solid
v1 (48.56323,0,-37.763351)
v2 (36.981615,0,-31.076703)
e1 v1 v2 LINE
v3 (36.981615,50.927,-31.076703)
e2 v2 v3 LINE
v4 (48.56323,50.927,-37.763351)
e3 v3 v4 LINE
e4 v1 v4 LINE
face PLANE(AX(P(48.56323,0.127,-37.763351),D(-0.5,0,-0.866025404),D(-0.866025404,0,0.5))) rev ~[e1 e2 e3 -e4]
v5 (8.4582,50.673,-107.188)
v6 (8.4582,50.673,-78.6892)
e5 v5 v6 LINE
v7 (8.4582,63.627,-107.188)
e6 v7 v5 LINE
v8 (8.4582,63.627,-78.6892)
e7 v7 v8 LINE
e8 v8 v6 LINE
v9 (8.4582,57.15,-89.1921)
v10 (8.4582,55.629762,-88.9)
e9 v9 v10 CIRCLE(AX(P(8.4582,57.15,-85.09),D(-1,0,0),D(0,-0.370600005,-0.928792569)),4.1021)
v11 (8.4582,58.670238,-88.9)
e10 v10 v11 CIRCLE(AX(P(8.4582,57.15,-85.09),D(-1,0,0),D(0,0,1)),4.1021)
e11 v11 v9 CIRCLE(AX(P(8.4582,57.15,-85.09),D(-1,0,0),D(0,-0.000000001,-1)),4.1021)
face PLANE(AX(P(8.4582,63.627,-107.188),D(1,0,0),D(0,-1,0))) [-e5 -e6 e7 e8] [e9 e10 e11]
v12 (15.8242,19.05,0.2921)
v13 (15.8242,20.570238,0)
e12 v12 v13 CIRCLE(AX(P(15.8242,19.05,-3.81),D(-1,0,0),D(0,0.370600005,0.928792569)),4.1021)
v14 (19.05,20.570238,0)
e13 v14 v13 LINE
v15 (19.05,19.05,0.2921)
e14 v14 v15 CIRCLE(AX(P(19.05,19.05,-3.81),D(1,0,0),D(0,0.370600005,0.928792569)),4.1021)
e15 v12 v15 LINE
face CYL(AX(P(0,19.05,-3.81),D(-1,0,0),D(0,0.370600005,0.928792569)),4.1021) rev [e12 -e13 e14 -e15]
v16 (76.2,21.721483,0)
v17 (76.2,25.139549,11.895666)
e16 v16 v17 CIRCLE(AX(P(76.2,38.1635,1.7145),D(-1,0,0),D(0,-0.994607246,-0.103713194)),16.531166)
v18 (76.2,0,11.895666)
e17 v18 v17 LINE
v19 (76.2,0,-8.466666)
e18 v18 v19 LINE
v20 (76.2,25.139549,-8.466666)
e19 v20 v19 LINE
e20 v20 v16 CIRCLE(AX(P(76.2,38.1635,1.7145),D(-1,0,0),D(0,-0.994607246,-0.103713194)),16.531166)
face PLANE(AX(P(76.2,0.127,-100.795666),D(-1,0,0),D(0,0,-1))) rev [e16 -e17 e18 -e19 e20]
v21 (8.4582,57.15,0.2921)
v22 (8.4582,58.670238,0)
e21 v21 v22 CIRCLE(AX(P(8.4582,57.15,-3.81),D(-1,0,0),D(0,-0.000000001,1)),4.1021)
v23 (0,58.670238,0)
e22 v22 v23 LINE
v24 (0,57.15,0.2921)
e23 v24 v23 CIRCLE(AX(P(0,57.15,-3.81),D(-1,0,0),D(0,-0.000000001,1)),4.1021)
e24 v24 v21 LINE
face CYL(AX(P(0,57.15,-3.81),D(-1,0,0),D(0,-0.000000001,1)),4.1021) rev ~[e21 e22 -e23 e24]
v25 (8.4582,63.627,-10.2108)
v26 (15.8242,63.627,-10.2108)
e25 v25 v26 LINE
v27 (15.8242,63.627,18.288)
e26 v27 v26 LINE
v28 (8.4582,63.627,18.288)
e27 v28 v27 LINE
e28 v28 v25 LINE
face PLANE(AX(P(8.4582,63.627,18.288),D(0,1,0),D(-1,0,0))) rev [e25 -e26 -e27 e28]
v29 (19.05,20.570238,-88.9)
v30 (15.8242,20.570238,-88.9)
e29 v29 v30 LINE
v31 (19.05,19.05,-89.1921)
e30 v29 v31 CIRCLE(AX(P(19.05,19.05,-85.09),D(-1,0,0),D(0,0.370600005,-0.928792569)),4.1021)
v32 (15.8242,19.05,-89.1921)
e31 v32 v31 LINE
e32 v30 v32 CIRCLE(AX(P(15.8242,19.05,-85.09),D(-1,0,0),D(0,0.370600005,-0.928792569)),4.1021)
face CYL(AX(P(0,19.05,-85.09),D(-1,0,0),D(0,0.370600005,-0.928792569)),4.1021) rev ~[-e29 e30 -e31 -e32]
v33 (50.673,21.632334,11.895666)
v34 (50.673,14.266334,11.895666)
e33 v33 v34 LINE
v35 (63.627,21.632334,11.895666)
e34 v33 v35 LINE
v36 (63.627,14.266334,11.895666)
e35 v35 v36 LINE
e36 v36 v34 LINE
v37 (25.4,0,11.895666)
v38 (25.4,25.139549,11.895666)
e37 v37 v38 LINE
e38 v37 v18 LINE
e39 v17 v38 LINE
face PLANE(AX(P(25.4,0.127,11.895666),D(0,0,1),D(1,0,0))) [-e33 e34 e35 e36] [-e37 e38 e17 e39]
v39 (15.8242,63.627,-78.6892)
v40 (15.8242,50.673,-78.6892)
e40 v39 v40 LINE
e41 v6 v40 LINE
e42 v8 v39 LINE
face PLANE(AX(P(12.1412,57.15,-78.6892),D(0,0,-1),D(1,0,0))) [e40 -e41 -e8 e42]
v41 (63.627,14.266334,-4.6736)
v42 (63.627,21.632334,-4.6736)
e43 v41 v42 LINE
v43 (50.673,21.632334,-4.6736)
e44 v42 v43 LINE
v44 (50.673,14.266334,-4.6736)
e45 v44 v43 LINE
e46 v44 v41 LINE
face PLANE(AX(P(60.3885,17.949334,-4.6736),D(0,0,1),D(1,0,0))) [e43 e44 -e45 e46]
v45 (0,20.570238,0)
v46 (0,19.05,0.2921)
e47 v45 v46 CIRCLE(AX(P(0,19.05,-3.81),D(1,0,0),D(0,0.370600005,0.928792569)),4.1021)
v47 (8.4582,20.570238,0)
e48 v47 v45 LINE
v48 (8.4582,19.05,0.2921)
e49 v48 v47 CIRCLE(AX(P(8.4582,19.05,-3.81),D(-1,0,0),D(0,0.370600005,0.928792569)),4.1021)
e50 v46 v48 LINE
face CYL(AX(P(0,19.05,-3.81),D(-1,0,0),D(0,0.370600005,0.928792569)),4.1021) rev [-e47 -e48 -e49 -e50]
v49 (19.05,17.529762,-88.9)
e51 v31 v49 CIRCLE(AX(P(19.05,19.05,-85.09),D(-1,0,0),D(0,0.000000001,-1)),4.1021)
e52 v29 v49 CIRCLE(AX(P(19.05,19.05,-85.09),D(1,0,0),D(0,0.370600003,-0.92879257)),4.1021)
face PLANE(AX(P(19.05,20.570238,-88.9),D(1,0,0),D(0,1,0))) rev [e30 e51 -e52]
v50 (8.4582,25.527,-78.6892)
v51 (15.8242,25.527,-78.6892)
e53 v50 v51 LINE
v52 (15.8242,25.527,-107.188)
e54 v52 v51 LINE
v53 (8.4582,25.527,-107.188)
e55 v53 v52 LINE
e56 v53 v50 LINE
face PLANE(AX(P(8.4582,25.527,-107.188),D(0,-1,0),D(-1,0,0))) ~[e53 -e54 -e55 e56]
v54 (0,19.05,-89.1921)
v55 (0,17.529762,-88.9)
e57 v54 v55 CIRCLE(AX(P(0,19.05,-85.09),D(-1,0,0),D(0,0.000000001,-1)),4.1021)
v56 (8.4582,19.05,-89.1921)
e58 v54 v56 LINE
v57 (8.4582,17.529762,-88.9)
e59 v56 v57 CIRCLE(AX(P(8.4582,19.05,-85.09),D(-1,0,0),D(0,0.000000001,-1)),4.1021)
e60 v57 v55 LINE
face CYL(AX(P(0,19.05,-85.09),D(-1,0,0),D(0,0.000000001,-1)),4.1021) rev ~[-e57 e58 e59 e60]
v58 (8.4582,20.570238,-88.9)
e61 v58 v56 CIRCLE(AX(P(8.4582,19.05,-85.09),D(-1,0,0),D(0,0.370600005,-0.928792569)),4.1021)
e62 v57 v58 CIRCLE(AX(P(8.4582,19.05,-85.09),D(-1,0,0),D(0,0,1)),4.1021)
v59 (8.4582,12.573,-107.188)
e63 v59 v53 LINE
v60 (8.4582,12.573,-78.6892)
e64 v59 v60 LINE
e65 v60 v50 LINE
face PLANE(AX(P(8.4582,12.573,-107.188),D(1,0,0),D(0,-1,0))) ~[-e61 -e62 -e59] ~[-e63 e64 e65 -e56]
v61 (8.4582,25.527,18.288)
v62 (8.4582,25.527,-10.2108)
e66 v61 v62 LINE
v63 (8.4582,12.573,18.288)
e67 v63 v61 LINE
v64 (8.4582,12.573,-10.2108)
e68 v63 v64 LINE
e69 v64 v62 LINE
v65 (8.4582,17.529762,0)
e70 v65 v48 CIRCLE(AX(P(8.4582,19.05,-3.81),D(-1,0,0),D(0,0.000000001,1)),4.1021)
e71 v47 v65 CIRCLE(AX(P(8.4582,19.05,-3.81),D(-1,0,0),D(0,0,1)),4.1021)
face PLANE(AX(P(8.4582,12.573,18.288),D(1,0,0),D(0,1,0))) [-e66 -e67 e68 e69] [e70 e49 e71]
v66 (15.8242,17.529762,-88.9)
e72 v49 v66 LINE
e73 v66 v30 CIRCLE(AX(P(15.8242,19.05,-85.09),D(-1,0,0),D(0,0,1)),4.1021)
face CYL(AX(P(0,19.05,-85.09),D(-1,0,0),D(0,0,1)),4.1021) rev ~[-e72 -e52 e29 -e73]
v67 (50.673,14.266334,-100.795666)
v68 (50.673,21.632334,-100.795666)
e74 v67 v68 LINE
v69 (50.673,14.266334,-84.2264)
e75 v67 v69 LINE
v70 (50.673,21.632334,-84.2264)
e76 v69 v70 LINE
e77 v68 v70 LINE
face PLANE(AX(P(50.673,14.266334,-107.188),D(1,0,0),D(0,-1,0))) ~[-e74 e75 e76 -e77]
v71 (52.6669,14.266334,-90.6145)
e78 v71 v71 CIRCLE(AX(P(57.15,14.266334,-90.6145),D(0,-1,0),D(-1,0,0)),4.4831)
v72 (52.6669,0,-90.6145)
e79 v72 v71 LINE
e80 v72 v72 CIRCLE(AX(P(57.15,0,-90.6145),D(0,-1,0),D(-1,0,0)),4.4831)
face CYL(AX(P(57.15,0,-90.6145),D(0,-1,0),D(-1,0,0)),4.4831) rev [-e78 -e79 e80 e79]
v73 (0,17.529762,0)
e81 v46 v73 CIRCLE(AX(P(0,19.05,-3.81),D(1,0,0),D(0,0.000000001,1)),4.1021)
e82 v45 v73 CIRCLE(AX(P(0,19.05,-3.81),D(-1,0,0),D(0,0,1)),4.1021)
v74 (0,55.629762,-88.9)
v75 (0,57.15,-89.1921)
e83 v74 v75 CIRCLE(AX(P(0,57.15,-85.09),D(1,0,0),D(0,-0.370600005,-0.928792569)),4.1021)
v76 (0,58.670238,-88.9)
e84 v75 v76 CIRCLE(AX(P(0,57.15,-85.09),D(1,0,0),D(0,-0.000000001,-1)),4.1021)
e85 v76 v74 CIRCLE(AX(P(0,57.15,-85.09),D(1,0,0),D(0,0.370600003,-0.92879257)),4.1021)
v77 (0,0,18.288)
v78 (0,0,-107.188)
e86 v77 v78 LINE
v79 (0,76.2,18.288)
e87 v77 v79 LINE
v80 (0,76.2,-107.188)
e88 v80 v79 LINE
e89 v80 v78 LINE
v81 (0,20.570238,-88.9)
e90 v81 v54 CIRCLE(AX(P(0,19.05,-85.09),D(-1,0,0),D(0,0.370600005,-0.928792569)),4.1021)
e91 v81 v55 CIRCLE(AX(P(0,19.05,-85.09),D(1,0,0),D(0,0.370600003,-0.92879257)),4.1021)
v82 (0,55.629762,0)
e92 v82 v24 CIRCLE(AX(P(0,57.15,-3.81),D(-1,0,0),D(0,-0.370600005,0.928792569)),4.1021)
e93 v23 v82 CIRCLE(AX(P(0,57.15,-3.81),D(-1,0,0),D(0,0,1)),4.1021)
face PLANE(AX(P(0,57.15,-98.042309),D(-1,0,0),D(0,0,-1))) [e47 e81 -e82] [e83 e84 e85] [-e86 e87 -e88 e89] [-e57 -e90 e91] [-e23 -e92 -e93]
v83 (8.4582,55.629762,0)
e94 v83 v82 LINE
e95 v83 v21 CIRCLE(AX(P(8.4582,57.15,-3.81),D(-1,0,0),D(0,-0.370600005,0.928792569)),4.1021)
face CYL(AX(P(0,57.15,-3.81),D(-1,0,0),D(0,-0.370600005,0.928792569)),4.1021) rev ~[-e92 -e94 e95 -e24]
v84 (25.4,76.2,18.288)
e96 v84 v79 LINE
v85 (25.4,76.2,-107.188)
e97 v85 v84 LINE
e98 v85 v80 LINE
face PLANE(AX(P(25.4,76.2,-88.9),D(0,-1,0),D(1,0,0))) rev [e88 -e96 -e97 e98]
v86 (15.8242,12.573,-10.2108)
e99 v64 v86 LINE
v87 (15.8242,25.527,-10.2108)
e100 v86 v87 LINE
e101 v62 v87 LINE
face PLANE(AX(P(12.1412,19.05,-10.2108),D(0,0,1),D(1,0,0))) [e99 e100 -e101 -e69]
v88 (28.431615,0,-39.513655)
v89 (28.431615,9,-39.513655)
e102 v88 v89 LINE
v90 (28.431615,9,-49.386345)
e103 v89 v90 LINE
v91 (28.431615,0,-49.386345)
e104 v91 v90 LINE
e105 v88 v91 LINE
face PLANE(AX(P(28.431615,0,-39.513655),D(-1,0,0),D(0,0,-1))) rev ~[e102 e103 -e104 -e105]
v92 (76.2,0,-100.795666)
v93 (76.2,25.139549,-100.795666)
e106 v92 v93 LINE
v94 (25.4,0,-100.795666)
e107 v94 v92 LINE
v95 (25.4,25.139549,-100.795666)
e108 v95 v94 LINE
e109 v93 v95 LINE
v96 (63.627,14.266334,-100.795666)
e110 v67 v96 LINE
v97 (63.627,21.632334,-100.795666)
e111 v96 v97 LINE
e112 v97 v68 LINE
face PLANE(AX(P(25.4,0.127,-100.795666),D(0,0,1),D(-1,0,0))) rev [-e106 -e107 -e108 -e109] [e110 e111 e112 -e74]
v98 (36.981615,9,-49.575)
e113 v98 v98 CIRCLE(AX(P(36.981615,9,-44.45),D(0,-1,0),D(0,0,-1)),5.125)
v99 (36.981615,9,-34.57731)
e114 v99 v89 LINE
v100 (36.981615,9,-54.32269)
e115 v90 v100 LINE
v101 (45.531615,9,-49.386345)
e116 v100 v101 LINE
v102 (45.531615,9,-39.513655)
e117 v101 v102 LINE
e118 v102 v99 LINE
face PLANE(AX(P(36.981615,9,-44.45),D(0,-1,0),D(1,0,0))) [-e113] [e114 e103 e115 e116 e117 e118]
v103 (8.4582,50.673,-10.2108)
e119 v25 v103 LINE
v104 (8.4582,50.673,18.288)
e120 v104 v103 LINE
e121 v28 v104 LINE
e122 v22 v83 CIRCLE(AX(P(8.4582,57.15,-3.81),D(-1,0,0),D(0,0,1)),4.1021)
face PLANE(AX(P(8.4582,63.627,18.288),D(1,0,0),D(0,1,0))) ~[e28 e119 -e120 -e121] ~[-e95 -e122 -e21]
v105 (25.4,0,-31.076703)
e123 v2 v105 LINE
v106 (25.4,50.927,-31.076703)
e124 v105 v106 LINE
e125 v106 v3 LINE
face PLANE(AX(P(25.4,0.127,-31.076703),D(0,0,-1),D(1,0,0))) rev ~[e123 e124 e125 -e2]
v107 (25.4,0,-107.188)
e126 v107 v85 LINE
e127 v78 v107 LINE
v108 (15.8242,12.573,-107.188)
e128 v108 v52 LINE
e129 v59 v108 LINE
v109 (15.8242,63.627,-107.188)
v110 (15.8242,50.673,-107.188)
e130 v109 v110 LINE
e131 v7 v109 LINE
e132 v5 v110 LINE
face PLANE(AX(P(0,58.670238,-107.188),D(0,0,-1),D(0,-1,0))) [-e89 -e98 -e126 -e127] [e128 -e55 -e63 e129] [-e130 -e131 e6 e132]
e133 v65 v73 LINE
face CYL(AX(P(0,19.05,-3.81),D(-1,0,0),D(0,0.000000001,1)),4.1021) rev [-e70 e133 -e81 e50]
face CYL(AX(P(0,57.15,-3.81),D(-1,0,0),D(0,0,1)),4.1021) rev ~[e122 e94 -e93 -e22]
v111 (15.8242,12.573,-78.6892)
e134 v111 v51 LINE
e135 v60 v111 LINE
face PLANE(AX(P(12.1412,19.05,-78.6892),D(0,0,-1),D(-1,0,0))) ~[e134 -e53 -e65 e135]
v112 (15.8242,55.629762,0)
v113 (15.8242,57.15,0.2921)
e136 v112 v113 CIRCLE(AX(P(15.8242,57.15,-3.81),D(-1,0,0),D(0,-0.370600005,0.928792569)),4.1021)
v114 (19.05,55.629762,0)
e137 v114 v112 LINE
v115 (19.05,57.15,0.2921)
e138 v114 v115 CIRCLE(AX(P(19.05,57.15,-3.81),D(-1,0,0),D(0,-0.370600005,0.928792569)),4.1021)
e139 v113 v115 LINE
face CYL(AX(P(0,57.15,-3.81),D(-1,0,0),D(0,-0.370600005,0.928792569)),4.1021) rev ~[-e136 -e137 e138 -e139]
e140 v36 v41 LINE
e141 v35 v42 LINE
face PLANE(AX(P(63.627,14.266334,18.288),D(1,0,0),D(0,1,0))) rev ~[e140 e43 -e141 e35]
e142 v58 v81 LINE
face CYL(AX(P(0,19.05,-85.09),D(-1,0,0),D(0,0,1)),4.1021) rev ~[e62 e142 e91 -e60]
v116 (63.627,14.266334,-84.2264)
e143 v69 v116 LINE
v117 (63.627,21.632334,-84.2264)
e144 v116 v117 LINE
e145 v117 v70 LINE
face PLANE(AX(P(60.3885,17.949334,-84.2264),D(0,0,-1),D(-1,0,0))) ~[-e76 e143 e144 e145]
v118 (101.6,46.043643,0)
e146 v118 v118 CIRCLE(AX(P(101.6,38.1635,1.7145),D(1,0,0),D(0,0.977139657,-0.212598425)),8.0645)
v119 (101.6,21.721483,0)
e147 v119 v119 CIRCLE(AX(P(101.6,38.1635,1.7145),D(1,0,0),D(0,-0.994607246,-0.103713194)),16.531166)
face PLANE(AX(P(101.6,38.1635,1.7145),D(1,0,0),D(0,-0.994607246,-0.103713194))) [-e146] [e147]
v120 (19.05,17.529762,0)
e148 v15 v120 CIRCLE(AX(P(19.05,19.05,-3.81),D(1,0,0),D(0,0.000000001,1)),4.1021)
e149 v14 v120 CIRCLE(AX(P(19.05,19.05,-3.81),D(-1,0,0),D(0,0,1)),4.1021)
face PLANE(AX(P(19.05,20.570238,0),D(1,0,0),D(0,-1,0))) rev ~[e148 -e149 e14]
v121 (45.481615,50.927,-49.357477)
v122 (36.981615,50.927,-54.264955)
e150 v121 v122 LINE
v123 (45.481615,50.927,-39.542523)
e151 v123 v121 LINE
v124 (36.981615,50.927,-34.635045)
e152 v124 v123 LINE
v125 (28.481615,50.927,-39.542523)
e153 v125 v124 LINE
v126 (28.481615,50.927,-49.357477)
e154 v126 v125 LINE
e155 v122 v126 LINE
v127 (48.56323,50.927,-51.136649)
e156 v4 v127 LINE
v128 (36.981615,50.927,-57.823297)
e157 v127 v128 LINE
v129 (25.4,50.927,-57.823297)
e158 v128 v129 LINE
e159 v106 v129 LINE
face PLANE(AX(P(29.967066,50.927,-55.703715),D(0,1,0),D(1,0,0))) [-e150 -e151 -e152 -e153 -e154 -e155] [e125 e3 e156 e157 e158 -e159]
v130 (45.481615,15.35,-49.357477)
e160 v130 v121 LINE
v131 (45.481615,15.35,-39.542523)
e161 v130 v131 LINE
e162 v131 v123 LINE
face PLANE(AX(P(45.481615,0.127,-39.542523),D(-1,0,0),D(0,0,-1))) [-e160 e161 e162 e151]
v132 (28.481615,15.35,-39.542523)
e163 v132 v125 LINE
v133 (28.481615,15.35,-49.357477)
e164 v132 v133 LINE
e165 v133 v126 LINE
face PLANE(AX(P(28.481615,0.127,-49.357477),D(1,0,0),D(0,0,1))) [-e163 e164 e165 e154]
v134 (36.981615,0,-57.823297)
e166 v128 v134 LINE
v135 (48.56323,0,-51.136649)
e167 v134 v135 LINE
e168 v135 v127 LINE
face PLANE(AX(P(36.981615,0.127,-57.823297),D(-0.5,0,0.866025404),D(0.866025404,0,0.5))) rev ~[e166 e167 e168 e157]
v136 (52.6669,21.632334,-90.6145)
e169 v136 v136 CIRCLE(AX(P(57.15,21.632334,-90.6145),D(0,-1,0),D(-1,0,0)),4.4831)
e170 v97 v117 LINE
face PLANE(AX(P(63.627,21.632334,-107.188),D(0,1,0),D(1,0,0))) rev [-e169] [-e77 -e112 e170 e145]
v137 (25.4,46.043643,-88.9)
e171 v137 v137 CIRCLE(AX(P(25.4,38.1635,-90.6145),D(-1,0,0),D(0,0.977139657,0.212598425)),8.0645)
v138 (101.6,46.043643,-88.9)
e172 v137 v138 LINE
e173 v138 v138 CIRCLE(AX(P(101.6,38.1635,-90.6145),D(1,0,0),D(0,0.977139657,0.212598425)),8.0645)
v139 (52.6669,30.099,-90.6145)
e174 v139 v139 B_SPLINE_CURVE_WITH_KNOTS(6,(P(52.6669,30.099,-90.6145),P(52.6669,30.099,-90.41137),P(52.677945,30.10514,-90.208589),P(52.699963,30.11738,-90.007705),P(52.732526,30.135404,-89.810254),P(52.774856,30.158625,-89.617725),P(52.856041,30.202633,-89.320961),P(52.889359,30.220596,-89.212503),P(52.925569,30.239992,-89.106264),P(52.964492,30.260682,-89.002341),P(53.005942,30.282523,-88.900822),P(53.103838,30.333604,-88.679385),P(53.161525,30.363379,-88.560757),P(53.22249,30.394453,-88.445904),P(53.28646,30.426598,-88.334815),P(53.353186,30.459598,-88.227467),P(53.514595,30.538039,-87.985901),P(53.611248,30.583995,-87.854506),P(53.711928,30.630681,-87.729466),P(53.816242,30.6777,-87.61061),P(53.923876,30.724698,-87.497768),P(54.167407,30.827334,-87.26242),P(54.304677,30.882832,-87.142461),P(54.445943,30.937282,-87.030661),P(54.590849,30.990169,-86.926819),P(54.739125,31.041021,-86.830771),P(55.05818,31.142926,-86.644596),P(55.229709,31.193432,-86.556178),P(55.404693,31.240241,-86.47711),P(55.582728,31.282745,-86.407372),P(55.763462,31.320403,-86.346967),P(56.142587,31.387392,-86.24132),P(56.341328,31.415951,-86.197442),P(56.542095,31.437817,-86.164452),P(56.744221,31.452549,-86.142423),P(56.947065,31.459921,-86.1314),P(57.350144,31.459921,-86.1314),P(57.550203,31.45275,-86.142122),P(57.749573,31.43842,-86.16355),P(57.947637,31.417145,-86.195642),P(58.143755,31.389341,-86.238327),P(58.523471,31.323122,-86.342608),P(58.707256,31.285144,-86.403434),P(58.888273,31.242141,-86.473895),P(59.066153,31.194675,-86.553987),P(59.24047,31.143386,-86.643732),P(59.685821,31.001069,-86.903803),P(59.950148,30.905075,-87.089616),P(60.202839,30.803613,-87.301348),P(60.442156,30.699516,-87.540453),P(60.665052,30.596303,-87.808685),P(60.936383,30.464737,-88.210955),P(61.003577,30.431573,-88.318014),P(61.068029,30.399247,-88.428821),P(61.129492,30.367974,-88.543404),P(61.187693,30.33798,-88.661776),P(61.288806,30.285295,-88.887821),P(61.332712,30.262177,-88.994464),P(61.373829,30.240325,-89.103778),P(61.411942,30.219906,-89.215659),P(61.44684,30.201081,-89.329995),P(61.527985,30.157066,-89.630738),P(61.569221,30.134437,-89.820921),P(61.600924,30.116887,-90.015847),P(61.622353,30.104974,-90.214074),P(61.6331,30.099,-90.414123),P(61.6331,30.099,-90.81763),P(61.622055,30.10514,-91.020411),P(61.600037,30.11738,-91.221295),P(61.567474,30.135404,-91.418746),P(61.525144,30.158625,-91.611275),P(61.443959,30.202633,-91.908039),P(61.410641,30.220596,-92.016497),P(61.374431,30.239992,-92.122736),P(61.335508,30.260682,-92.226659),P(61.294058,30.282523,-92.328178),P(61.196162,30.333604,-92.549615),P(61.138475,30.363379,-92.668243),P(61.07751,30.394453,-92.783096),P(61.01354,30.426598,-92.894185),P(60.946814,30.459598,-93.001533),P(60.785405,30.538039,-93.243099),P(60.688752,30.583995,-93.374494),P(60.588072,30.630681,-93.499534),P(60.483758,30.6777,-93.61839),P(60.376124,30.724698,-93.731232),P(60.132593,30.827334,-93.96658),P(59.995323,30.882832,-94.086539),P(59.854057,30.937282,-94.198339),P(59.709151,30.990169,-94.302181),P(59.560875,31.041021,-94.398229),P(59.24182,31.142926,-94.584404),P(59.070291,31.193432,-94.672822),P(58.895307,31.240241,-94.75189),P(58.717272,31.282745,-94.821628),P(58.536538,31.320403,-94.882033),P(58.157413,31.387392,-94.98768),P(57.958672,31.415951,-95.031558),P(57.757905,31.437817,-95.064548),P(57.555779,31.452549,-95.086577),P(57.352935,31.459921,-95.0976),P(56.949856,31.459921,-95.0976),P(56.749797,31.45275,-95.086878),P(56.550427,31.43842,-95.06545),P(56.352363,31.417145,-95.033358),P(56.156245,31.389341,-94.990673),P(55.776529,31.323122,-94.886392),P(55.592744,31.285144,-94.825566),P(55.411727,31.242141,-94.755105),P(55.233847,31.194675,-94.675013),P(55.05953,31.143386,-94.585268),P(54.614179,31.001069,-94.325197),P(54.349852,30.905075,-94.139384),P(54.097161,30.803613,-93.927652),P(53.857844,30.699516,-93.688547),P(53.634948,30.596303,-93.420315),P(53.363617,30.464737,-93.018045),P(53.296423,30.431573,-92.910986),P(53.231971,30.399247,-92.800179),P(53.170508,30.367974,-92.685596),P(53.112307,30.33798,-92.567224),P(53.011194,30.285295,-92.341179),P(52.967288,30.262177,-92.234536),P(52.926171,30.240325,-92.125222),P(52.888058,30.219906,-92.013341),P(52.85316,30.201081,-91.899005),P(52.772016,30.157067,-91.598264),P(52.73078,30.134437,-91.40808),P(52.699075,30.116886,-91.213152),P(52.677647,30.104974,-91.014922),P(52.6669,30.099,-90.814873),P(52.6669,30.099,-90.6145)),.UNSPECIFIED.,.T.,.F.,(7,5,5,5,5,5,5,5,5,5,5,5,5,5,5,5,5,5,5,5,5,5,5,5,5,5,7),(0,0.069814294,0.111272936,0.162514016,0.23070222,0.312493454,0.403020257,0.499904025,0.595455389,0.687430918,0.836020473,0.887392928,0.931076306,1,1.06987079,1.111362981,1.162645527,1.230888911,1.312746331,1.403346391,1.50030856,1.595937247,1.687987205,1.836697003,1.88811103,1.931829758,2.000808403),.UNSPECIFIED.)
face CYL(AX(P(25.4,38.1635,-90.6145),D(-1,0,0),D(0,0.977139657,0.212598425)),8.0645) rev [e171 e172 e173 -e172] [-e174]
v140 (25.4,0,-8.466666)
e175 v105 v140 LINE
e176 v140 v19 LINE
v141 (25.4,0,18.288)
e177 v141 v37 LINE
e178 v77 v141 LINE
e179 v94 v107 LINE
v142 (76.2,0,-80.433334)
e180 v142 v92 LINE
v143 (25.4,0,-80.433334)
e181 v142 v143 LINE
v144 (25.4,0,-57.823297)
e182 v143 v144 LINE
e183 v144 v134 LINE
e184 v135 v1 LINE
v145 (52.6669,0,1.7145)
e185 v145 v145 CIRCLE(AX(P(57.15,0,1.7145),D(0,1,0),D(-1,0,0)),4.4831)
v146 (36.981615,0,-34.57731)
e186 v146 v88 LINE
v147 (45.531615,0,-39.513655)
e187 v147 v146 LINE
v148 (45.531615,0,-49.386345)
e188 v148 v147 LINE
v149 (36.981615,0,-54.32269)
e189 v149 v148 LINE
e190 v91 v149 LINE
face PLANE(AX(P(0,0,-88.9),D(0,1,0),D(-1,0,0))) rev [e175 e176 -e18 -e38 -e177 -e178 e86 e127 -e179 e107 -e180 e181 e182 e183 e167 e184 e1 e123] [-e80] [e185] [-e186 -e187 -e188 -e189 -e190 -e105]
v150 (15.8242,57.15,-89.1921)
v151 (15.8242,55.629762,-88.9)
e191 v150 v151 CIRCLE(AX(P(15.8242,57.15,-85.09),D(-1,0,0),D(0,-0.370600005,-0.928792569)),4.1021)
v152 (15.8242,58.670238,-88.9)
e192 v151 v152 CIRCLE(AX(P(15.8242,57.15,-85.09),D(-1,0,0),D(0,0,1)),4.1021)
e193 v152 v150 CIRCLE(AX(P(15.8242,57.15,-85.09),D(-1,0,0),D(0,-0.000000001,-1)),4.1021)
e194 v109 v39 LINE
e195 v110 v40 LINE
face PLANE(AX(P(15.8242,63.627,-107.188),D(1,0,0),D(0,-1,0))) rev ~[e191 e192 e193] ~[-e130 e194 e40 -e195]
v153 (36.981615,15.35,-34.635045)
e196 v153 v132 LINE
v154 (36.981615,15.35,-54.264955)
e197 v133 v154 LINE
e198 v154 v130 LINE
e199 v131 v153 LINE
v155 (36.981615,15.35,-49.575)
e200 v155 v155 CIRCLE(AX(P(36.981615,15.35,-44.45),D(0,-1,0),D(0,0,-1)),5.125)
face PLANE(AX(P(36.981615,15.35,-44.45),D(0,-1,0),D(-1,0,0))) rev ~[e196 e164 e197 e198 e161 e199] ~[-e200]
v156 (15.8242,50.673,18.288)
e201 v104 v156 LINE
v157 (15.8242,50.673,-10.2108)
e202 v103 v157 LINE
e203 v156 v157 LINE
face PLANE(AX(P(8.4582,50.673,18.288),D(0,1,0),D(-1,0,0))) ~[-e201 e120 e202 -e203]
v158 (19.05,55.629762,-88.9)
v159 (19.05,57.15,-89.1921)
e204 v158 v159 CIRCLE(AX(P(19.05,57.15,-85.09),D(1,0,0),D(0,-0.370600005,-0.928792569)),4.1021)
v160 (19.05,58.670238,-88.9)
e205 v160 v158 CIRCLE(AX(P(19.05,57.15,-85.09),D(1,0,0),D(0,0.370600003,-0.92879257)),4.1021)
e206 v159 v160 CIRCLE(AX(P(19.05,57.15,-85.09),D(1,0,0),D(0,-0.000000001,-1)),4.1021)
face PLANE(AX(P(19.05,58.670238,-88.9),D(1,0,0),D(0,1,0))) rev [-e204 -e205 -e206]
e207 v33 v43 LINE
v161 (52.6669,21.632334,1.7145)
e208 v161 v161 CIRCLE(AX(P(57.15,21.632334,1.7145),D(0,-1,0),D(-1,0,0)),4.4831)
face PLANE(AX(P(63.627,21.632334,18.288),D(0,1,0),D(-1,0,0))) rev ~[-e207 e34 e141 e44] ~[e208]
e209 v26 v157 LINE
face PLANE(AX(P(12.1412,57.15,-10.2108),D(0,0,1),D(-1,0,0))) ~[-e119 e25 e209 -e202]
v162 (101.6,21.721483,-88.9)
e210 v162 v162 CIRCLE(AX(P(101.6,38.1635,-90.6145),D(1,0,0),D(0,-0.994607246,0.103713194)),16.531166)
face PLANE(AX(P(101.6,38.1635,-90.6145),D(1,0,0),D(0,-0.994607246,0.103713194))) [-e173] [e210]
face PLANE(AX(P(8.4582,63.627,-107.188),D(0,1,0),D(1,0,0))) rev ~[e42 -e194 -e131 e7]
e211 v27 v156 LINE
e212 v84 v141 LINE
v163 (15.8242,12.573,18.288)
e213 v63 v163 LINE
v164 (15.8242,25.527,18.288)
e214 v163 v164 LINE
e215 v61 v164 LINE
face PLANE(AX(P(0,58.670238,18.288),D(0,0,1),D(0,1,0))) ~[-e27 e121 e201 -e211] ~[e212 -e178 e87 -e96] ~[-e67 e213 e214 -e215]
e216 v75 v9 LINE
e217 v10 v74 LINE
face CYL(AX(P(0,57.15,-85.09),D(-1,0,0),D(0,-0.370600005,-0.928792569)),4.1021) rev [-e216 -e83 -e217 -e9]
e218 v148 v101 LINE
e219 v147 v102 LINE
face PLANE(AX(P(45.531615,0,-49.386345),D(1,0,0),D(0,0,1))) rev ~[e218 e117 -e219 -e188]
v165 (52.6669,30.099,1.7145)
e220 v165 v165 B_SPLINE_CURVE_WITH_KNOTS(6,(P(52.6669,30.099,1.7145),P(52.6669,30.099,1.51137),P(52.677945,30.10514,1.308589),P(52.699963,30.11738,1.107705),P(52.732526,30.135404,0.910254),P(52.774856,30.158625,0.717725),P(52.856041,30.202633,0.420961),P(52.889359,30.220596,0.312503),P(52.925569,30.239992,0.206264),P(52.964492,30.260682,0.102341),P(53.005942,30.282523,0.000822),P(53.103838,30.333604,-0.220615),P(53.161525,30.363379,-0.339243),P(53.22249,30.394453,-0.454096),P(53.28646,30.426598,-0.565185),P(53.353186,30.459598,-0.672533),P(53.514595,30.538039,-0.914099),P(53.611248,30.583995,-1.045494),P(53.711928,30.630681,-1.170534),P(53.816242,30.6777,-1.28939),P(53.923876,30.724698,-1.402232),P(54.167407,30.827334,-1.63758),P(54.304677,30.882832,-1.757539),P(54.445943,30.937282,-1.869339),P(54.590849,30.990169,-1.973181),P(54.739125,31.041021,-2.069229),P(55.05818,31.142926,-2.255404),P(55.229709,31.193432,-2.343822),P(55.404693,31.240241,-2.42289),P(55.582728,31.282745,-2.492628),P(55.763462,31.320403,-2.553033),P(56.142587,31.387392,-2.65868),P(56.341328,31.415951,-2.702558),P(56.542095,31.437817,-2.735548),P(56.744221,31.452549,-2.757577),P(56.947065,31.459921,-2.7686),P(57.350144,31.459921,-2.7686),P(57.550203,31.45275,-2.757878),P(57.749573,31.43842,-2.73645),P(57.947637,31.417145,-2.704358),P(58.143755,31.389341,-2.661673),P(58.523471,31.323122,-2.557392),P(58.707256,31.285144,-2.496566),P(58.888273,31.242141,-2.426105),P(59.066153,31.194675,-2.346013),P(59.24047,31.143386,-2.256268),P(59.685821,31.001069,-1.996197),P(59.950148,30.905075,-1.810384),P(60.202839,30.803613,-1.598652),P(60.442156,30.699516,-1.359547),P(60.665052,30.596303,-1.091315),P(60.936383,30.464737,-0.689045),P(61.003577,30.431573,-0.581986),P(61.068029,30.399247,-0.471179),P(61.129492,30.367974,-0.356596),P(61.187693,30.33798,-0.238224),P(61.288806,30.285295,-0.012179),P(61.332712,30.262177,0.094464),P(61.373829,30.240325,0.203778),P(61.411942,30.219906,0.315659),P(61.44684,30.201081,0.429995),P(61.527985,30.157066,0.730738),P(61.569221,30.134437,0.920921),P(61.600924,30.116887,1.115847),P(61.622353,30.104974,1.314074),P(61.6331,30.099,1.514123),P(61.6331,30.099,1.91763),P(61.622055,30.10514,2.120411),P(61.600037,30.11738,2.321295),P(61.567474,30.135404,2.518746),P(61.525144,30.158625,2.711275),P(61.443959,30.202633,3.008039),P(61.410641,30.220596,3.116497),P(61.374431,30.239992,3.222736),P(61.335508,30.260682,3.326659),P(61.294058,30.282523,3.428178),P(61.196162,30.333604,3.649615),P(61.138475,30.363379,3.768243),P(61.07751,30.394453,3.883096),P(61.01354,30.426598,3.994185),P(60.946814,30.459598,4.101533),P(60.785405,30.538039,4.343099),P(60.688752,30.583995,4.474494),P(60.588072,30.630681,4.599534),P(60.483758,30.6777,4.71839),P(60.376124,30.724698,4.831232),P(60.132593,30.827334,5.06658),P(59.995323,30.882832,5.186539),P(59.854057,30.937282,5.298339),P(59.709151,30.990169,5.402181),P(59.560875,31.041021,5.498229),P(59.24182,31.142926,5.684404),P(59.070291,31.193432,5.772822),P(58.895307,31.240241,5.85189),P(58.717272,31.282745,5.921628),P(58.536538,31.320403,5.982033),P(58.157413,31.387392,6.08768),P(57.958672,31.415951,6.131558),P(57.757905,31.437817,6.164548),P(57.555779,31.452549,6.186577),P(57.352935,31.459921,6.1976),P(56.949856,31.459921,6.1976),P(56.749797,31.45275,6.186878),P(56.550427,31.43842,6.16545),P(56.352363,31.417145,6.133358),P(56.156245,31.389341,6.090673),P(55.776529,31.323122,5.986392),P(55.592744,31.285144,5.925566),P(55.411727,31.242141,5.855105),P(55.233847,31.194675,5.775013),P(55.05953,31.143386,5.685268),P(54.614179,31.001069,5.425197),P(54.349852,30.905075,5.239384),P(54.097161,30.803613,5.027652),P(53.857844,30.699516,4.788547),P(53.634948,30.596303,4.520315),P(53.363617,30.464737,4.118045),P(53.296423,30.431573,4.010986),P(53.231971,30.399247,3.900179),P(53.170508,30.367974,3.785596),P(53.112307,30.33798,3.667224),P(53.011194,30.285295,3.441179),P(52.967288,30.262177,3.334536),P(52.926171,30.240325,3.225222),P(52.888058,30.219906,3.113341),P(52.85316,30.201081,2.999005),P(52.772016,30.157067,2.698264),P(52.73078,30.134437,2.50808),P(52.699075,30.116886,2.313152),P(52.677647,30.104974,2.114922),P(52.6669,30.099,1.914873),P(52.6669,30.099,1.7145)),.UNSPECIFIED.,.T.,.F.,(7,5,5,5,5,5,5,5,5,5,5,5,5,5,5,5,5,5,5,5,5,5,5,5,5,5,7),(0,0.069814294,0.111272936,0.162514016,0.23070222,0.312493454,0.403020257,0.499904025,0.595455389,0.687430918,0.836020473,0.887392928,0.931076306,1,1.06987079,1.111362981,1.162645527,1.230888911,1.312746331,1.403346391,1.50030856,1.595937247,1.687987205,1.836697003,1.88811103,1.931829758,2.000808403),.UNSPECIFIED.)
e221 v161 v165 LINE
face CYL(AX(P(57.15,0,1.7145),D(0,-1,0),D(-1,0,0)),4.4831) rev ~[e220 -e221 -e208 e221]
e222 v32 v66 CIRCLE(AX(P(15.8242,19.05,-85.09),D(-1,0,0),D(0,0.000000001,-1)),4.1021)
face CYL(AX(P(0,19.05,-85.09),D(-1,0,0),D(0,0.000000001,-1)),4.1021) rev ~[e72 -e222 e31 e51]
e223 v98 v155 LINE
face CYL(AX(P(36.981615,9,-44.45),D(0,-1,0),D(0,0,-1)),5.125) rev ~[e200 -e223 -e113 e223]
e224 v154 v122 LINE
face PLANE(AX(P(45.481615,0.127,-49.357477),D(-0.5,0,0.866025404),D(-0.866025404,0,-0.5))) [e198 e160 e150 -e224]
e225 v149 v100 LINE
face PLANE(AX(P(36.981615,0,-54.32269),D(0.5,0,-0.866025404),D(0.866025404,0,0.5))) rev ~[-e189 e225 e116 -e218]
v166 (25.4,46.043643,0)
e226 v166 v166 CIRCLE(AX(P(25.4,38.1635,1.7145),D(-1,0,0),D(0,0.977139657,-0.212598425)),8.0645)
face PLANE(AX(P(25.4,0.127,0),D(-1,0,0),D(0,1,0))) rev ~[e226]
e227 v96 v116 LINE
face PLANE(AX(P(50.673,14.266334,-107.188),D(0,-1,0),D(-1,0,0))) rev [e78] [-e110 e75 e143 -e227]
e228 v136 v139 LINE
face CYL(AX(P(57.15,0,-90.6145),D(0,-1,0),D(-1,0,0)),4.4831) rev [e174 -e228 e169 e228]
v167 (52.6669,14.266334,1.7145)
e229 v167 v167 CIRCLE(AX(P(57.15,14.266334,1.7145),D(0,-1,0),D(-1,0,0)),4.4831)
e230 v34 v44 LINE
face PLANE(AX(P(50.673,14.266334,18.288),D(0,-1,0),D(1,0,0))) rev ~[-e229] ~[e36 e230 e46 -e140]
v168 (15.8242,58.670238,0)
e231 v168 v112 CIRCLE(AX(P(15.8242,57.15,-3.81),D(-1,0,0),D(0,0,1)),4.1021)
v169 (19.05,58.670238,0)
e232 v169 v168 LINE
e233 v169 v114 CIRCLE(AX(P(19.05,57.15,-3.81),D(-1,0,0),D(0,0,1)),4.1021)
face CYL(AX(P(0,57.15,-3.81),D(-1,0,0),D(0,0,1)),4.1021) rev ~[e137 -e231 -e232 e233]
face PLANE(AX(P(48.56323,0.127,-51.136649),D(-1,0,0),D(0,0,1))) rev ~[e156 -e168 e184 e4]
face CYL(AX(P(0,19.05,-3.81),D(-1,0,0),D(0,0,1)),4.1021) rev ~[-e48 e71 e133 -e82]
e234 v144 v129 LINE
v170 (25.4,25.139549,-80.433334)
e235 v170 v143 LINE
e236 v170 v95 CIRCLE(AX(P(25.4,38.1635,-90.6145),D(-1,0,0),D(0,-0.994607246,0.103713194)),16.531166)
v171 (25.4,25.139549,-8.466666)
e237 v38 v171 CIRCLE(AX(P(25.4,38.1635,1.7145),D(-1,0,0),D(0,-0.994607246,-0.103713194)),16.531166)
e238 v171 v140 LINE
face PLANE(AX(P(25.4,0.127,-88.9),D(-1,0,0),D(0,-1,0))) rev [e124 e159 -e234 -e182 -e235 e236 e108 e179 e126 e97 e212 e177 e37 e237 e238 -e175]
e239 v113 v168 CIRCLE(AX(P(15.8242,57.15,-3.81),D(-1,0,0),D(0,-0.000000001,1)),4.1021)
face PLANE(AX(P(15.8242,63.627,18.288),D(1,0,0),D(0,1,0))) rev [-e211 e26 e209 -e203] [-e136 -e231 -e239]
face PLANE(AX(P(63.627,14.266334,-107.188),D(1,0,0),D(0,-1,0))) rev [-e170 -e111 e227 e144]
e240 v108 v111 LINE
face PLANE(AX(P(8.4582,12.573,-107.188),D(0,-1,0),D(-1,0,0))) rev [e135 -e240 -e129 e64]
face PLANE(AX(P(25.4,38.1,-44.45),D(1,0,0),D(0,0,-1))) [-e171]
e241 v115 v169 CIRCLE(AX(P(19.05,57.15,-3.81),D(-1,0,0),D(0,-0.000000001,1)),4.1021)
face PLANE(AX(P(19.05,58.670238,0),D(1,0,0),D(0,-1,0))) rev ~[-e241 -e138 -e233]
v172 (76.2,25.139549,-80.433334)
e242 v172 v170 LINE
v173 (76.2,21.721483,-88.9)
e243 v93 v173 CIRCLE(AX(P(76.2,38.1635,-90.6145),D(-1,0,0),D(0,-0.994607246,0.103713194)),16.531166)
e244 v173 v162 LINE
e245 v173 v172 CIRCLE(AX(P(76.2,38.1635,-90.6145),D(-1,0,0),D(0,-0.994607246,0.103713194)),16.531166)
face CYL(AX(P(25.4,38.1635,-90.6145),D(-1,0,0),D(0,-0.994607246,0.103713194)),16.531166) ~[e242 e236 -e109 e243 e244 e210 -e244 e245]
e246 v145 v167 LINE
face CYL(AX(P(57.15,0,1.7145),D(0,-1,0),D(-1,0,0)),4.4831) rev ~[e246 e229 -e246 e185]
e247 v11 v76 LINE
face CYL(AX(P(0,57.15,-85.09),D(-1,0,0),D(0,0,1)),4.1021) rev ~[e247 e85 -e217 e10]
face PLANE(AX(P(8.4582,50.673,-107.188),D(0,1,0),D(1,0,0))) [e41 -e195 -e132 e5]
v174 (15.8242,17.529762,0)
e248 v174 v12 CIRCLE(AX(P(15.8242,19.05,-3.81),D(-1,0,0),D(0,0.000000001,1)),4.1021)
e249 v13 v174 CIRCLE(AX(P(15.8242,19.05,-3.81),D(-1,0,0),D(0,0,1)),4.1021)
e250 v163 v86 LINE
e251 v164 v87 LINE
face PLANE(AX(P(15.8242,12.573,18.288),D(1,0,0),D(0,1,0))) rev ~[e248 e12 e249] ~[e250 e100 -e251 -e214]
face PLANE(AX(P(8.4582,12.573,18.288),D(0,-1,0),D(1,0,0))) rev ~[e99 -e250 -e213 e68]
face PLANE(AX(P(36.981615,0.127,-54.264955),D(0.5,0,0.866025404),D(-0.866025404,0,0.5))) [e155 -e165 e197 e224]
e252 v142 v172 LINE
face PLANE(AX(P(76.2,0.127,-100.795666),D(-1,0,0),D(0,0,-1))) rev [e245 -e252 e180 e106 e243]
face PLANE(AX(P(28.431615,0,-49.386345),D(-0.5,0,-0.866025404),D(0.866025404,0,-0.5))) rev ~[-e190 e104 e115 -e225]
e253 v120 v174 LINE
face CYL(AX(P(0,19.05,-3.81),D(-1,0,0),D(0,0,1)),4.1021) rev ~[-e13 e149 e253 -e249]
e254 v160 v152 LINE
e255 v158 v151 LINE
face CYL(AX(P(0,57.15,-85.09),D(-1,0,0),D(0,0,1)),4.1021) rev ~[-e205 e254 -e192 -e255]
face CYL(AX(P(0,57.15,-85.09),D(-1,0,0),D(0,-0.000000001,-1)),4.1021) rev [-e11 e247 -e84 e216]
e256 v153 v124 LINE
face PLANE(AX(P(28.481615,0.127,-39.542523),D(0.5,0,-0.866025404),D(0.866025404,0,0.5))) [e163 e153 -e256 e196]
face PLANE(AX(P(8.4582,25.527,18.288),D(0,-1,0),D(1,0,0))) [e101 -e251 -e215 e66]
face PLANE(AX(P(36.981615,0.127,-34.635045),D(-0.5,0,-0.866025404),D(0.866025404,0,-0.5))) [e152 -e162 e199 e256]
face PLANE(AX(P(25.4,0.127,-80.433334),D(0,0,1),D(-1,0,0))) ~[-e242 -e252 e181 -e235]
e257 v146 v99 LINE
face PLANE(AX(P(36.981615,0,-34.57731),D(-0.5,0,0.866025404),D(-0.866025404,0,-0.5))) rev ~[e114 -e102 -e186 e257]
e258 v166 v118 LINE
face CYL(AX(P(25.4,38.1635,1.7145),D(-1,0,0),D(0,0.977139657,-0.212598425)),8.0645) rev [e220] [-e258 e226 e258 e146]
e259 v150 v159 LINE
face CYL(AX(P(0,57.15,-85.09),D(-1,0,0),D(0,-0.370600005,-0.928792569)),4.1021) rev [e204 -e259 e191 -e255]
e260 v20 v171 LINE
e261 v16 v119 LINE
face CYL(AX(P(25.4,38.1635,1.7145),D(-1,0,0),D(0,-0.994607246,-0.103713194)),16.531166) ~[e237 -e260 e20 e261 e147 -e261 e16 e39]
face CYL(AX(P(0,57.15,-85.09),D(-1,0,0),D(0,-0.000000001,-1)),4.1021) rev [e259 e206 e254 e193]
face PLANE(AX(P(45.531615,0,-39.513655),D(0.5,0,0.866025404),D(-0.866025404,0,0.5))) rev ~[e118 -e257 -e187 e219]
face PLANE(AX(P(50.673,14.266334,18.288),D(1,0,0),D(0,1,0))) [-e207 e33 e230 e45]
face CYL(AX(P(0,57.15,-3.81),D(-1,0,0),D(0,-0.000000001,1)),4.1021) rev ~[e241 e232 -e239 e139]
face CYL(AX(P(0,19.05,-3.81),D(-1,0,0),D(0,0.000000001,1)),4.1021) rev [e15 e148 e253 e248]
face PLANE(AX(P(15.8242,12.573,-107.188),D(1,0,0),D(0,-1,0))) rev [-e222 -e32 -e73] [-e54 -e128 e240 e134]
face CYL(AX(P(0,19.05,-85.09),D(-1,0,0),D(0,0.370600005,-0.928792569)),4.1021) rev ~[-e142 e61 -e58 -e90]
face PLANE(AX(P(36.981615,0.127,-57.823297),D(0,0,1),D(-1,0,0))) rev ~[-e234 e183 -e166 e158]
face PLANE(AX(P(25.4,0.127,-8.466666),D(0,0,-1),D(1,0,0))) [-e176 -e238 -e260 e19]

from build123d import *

# Parameters (mm, degrees)
SKETCH1_W               = 88.9
SKETCH1_H               = 76.2
BOSS_EXTRUDE1_DEPTH     = 25.4
SKETCH2_R               = 4.1021
CUT_EXTRUDE1_DEPTH      = 19.05
SKETCH5_W               = 88.9
SKETCH5_H               = 0.127
BOSS_EXTRUDE2_DEPTH     = 50.8
SKETCH6_R               = 16.53116582
SKETCH6_R_2             = 8.0645
BOSS_EXTRUDE3_DEPTH     = 76.2
BOSS_EXTRUDE4_DEPTH     = 18.288
SKETCH8_W               = 50.8
SKETCH8_H               = 20.36233164
BOSS_EXTRUDE5_DEPTH     = 27.94
CUT_EXTRUDE6_REACH      = 168.187
CUT_EXTRUDE6_END_RADIUS = 8.0645
SKETCH13_W              = 6.477
SKETCH13_H              = 7.366
CUT_EXTRUDE7_DEPTH      = 22.9616
BOSS_EXTRUDE6_DEPTH     = 50.8
CUT_EXTRUDE8_REACH      = 168.129
SKETCH14_3_R            = 5.25
CUT_EXTRUDE9_DEPTH      = 9
CUT_EXTRUDE10_REACH     = 168.129
SKETCH16_W              = 50.8
SKETCH16_H              = 6.39233418
BOSS_EXTRUDE7_DEPTH     = 50.8
BOSS_EXTRUDE9_START     = 19.05
BOSS_EXTRUDE9_DEPTH     = 19.05
SKETCH22_W              = 7.366
SKETCH22_H              = 12.954
CUT_EXTRUDE15_DEPTH     = 28.4988
MIRROR5_START           = 19.05
MIRROR5_COPY_1_DEPTH    = 19.05
MIRROR5_COPY_2_SKETCH_W = 7.366
MIRROR5_COPY_2_SKETCH_H = 12.954
MIRROR5_COPY_2_DEPTH    = 28.4988
SKETCH25_R              = 5.125
BOSS_EXTRUDE10_DEPTH    = 6.35


with BuildPart() as part:
    # Sketch1 → Boss-Extrude1 (new body)
    with BuildSketch(Plane(origin=(0, 0, 0), x_dir=(0, 0, -1), z_dir=(1, 0, 0))):
        with Locations((44.45, 38.1)):
            Rectangle(SKETCH1_W, SKETCH1_H)
    extrude(amount=BOSS_EXTRUDE1_DEPTH)

    # Sketch2 → Cut-Extrude1 (cut)
    with BuildSketch(Plane.ZY):
        with Locations((-85.09, 19.05)):
            Circle(SKETCH2_R)
        with Locations((-3.81, 57.15)):
            Circle(SKETCH2_R)
        with Locations((-3.81, 19.05)):
            Circle(SKETCH2_R)
        with Locations((-85.09, 57.15)):
            Circle(SKETCH2_R)
    extrude(amount=-CUT_EXTRUDE1_DEPTH, mode=Mode.SUBTRACT)

    # Sketch5 → Boss-Extrude2 (add)
    with BuildSketch(Plane(origin=(25.4, 0, 0), x_dir=(0, 0, -1), z_dir=(1, 0, 0))):
        with Locations((44.45, 0.0635)):
            Rectangle(SKETCH5_W, SKETCH5_H)
    extrude(amount=BOSS_EXTRUDE2_DEPTH)

    # Sketch6 → Boss-Extrude3 (add)
    # profile 1 of 2: a face of its own
    with BuildSketch(Plane(origin=(25.4, 0, 0), x_dir=(0, 0, -1), z_dir=(1, 0, 0))):
        with Locations(Location((-1.7145, 38.1635, 0), (0, 0, 275.953033203))):
            Circle(SKETCH6_R)
        with Locations(Location((-1.7145, 38.1635, 0), (0, 0, 77.725329785))):
            Circle(SKETCH6_R_2, mode=Mode.SUBTRACT)
    # profile 2 of 2: a face of its own
    with BuildSketch(Plane(origin=(25.4, 0, 0), x_dir=(0, 0, -1), z_dir=(1, 0, 0))):
        with Locations(Location((90.6145, 38.1635, 0), (0, 0, 264.046966797))):
            Circle(SKETCH6_R)
        with Locations(Location((90.6145, 38.1635, 0), (0, 0, 102.274670215))):
            Circle(SKETCH6_R_2, mode=Mode.SUBTRACT)
    extrude(amount=BOSS_EXTRUDE3_DEPTH)

    # Sketch7 → Boss-Extrude4 (add)
    with BuildSketch(Plane.XY):
        Polygon((76.2, 0.127), (25.4, 0.127), (25.4, 76.2), (0, 76.2), (0, 58.670238274), (19.05, 58.670238274), (19.05, 55.629761726), (0, 55.629761726), (0, 20.570238274), (19.05, 20.570238274), (19.05, 17.529761726), (0, 17.529761726), (0, 0), (76.2, 0), align=None)
    boss_extrude4 = extrude(amount=BOSS_EXTRUDE4_DEPTH)

    # Mirror2: Boss-Extrude4 across plane
    add(boss_extrude4.mirror(Plane.XY.offset(-44.45)))

    # Sketch8 → Boss-Extrude5 (add)
    with BuildSketch(Plane(origin=(0, 0.127, 0), x_dir=(1, 0, 0), z_dir=(0, 1, 0))):
        with Locations((50.8, -1.7145)):
            Rectangle(SKETCH8_W, SKETCH8_H)
    boss_extrude5 = extrude(amount=BOSS_EXTRUDE5_DEPTH)

    # Cut-Extrude6: up to this cylinder (the profile starts outside it)
    cut_extrude6_end = Plane(origin=(57.15, 38.1635, 1.7145), z_dir=(-1, 0, 0)) * Cylinder(CUT_EXTRUDE6_END_RADIUS, 353.503, mode=Mode.PRIVATE)
    # Sketch12 → Cut-Extrude6 (cut, up to the surface)
    with BuildSketch(Plane.XZ, mode=Mode.PRIVATE) as cut_extrude6_sk1:
        with BuildLine():
            ThreePointArc((52.6669, 1.7145), (57.15, -2.7686), (61.6331, 1.7145))
            Line((61.6331, 1.7145), (52.6669, 1.7145))
        make_face()
    cut_extrude6_tool1 = extrude(cut_extrude6_sk1.sketch, amount=-CUT_EXTRUDE6_REACH, mode=Mode.PRIVATE) - cut_extrude6_end
    # Sketch12 → Cut-Extrude6 (cut, up to the surface)
    with BuildSketch(Plane.XZ, mode=Mode.PRIVATE) as cut_extrude6_sk2:
        with BuildLine():
            Line((52.6669, 1.7145), (61.6331, 1.7145))
            ThreePointArc((61.6331, 1.7145), (57.15, 6.1976), (52.6669, 1.7145))
        make_face()
    cut_extrude6_tool2 = extrude(cut_extrude6_sk2.sketch, amount=-CUT_EXTRUDE6_REACH, mode=Mode.PRIVATE) - cut_extrude6_end
    # Sketch12 → Cut-Extrude6 (cut, up to the surface)
    with BuildSketch(Plane.XZ, mode=Mode.PRIVATE) as cut_extrude6_sk3:
        with BuildLine():
            ThreePointArc((52.6669, 1.7145), (57.15, -2.7686), (61.6331, 1.7145))
            Line((61.6331, 1.7145), (52.6669, 1.7145))
        make_face()
    cut_extrude6_tool3 = extrude(cut_extrude6_sk3.sketch, amount=-CUT_EXTRUDE6_REACH, mode=Mode.PRIVATE) - cut_extrude6_end
    # Sketch12 → Cut-Extrude6 (cut, up to the surface)
    with BuildSketch(Plane.XZ, mode=Mode.PRIVATE) as cut_extrude6_sk4:
        with BuildLine():
            Line((52.6669, 1.7145), (61.6331, 1.7145))
            ThreePointArc((61.6331, 1.7145), (57.15, 6.1976), (52.6669, 1.7145))
        make_face()
    cut_extrude6_tool4 = extrude(cut_extrude6_sk4.sketch, amount=-CUT_EXTRUDE6_REACH, mode=Mode.PRIVATE) - cut_extrude6_end
    cut_extrude6 = cut_extrude6_tool1.solids().sort_by_distance((57.15, 0, -0.188187))[0] + cut_extrude6_tool2.solids().sort_by_distance((57.15, 0, 3.617187))[0] + cut_extrude6_tool3.solids().sort_by_distance((57.15, 0, -0.188187))[0] + cut_extrude6_tool4.solids().sort_by_distance((57.15, 0, 3.617187))[0]
    add(cut_extrude6, mode=Mode.SUBTRACT)

    # Sketch13 → Cut-Extrude7 (cut)
    with BuildSketch(Plane.XY.offset(18.288)):
        with Locations((60.3885, 17.94933418)):
            Rectangle(SKETCH13_W, SKETCH13_H)
        with Locations((53.9115, 17.94933418)):
            Rectangle(SKETCH13_W, SKETCH13_H)
    cut_extrude7 = extrude(amount=-CUT_EXTRUDE7_DEPTH, mode=Mode.SUBTRACT)

    # Mirror3: Boss-Extrude5, Cut-Extrude6, Cut-Extrude7 across plane
    add(boss_extrude5.mirror(Plane.XY.offset(-44.45)))
    add(cut_extrude6.mirror(Plane.XY.offset(-44.45)), mode=Mode.SUBTRACT)
    add(cut_extrude7.mirror(Plane.XY.offset(-44.45)), mode=Mode.SUBTRACT)

    # Sketch14 → Boss-Extrude6 (add)
    with BuildSketch(Plane(origin=(0, 0.127, 0), x_dir=(1, 0, 0), z_dir=(0, 1, 0))):
        Polygon((48.563230368, 37.763351356), (48.563230368, 51.136648644), (36.981615184, 57.823297288), (25.4, 51.136648644), (25.4, 37.763351356), (36.981615184, 31.076702712), align=None)
        Polygon((28.481615184, 49.357477288), (28.481615184, 39.542522712), (36.981615184, 34.635045424), (45.481615184, 39.542522712), (45.481615184, 49.357477288), (36.981615184, 54.264954576), align=None, mode=Mode.SUBTRACT)
    extrude(amount=BOSS_EXTRUDE6_DEPTH)

    # Sketch14<3> → Cut-Extrude8 (cut, up to next)
    with BuildSketch(Plane(origin=(0, 0.127, 0), x_dir=(1, 0, 0), z_dir=(0, 1, 0)), mode=Mode.PRIVATE) as cut_extrude8_sk1:
        with Locations(Location((36.981615184, 44.45, 0), (0, 0, 270))):
            Circle(SKETCH14_3_R)
    cut_extrude8_tool1 = extrude(cut_extrude8_sk1.sketch, amount=-CUT_EXTRUDE8_REACH, mode=Mode.PRIVATE) & part.part
    add(cut_extrude8_tool1.solids().sort_by_distance((36.981615, 0.127, -44.45))[0], mode=Mode.SUBTRACT)

    # Sketch15 → Cut-Extrude9 (cut)
    with BuildSketch(Plane.XZ):
        Polygon((45.531615184, -39.513655198), (36.981615184, -34.577310397), (28.431615184, -39.513655198), (28.431615184, -49.386344802), (36.981615184, -54.322689603), (45.531615184, -49.386344802), align=None)
    extrude(amount=-CUT_EXTRUDE9_DEPTH, mode=Mode.SUBTRACT)

    # Sketch16 → Cut-Extrude10 (cut, up to next)
    with BuildSketch(Plane(origin=(0, 0.127, 0), x_dir=(1, 0, 0), z_dir=(0, 1, 0)), mode=Mode.PRIVATE) as cut_extrude10_sk1:
        Polygon((48.563230368, 37.763351356), (36.981615184, 31.076702712), (25.4, 31.076702712), (25.4, 8.46666582), (76.2, 8.46666582), (76.2, 80.43333418), (25.4, 80.43333418), (25.4, 57.823297288), (36.981615184, 57.823297288), (48.563230368, 51.136648644), align=None)
    cut_extrude10_tool1 = extrude(cut_extrude10_sk1.sketch, amount=-CUT_EXTRUDE10_REACH, mode=Mode.PRIVATE) & part.part
    # Sketch16 → Cut-Extrude10 (cut, up to next)
    with BuildSketch(Plane(origin=(0, 0.127, 0), x_dir=(1, 0, 0), z_dir=(0, 1, 0)), mode=Mode.PRIVATE) as cut_extrude10_sk2:
        with Locations((50.8, -15.09183291)):
            Rectangle(SKETCH16_W, SKETCH16_H)
    cut_extrude10_tool2 = extrude(cut_extrude10_sk2.sketch, amount=-CUT_EXTRUDE10_REACH, mode=Mode.PRIVATE) & part.part
    # Sketch16 → Cut-Extrude10 (cut, up to next)
    with BuildSketch(Plane(origin=(0, 0.127, 0), x_dir=(1, 0, 0), z_dir=(0, 1, 0)), mode=Mode.PRIVATE) as cut_extrude10_sk3:
        with Locations((50.8, 103.99183291)):
            Rectangle(SKETCH16_W, SKETCH16_H)
    cut_extrude10_tool3 = extrude(cut_extrude10_sk3.sketch, amount=-CUT_EXTRUDE10_REACH, mode=Mode.PRIVATE) & part.part
    add(cut_extrude10_tool1.solids().sort_by_distance((53.397723, 0.127, -44.45))[0], mode=Mode.SUBTRACT)
    add(cut_extrude10_tool2.solids().sort_by_distance((50.8, 0.127, 15.091833))[0], mode=Mode.SUBTRACT)
    add(cut_extrude10_tool3.solids().sort_by_distance((50.8, 0.127, -103.991833))[0], mode=Mode.SUBTRACT)

    # Sketch18 → Boss-Extrude7 (add)
    with BuildSketch(Plane(origin=(0, 0.127, 0), x_dir=(1, 0, 0), z_dir=(0, 1, 0))):
        Polygon((36.981615184, 57.823297288), (25.4, 57.823297288), (25.4, 51.136648644), align=None)
        Polygon((25.4, 37.763351356), (25.4, 31.076702712), (36.981615184, 31.076702712), align=None)
    extrude(amount=BOSS_EXTRUDE7_DEPTH)

    # Sketch20 → Boss-Extrude9 (add)
    with BuildSketch(Plane.ZY.offset(-19.05).offset(BOSS_EXTRUDE9_START)):
        with BuildLine():
            ThreePointArc((0.2921, 19.05), (0.218413175, 18.275976935), (0, 17.529761726))
            Line((0, 17.529761726), (18.288, 17.529761726))
            Line((18.288, 17.529761726), (18.288, 20.570238274))
            Line((18.288, 20.570238274), (0, 20.570238274))
            ThreePointArc((0, 20.570238274), (0.218413175, 19.824023065), (0.2921, 19.05))
        make_face()
    boss_extrude9 = extrude(amount=-BOSS_EXTRUDE9_DEPTH)

    # Sketch22 → Cut-Extrude15 (cut)
    with BuildSketch(Plane.XY.offset(18.288)):
        with Locations((12.1412, 19.05)):
            Rectangle(SKETCH22_W, SKETCH22_H)
    cut_extrude15 = extrude(amount=-CUT_EXTRUDE15_DEPTH, mode=Mode.SUBTRACT)

    # Mirror4: Boss-Extrude9, Cut-Extrude15 across plane
    add(boss_extrude9.mirror(Plane.XY.offset(-44.45)))
    add(cut_extrude15.mirror(Plane.XY.offset(-44.45)), mode=Mode.SUBTRACT)

    # Mirror5: Boss-Extrude9, Cut-Extrude15 across plane
    add(boss_extrude9.mirror(Plane.ZX.offset(38.1)))
    add(cut_extrude15.mirror(Plane.ZX.offset(38.1)), mode=Mode.SUBTRACT)

    # Mirror5 copy 1 sketch → Mirror5 copy 1 (add)
    with BuildSketch(Plane(origin=(19.05, 76.2, -88.9), x_dir=(0, 0, -1), z_dir=(-1, 0, 0)).offset(MIRROR5_START)):
        with BuildLine():
            ThreePointArc((0.2921, 19.05), (0.218413175, 18.275976935), (0, 17.529761726))
            Line((0, 17.529761726), (18.288, 17.529761726))
            Line((18.288, 17.529761726), (18.288, 20.570238274))
            Line((18.288, 20.570238274), (0, 20.570238274))
            ThreePointArc((0, 20.570238274), (0.218413175, 19.824023065), (0.2921, 19.05))
        make_face()
    extrude(amount=-MIRROR5_COPY_1_DEPTH)

    # Mirror5 copy 2 sketch → Mirror5 copy 2 (cut)
    with BuildSketch(Plane(origin=(0, 76.2, -107.188), x_dir=(1, 0, 0), z_dir=(0, 0, -1))):
        with Locations((12.1412, 19.05)):
            Rectangle(MIRROR5_COPY_2_SKETCH_W, MIRROR5_COPY_2_SKETCH_H)
    extrude(amount=-MIRROR5_COPY_2_DEPTH, mode=Mode.SUBTRACT)

    # Sketch25 → Boss-Extrude10 (add)
    with BuildSketch(Plane(origin=(0, 9.000000034, 0), x_dir=(-1, 0, 0), z_dir=(0, -1, 0))):
        Polygon((-36.981615184, 34.577310397), (-28.431615184, 39.513655198), (-28.431615184, 49.386344802), (-36.981615184, 54.322689603), (-45.531615184, 49.386344802), (-45.531615184, 39.513655198), align=None)
        with Locations(Location((-36.981615184, 44.45, 0), (0, 0, 90))):
            Circle(SKETCH25_R, mode=Mode.SUBTRACT)
    extrude(amount=-BOSS_EXTRUDE10_DEPTH)


solid = part.part
